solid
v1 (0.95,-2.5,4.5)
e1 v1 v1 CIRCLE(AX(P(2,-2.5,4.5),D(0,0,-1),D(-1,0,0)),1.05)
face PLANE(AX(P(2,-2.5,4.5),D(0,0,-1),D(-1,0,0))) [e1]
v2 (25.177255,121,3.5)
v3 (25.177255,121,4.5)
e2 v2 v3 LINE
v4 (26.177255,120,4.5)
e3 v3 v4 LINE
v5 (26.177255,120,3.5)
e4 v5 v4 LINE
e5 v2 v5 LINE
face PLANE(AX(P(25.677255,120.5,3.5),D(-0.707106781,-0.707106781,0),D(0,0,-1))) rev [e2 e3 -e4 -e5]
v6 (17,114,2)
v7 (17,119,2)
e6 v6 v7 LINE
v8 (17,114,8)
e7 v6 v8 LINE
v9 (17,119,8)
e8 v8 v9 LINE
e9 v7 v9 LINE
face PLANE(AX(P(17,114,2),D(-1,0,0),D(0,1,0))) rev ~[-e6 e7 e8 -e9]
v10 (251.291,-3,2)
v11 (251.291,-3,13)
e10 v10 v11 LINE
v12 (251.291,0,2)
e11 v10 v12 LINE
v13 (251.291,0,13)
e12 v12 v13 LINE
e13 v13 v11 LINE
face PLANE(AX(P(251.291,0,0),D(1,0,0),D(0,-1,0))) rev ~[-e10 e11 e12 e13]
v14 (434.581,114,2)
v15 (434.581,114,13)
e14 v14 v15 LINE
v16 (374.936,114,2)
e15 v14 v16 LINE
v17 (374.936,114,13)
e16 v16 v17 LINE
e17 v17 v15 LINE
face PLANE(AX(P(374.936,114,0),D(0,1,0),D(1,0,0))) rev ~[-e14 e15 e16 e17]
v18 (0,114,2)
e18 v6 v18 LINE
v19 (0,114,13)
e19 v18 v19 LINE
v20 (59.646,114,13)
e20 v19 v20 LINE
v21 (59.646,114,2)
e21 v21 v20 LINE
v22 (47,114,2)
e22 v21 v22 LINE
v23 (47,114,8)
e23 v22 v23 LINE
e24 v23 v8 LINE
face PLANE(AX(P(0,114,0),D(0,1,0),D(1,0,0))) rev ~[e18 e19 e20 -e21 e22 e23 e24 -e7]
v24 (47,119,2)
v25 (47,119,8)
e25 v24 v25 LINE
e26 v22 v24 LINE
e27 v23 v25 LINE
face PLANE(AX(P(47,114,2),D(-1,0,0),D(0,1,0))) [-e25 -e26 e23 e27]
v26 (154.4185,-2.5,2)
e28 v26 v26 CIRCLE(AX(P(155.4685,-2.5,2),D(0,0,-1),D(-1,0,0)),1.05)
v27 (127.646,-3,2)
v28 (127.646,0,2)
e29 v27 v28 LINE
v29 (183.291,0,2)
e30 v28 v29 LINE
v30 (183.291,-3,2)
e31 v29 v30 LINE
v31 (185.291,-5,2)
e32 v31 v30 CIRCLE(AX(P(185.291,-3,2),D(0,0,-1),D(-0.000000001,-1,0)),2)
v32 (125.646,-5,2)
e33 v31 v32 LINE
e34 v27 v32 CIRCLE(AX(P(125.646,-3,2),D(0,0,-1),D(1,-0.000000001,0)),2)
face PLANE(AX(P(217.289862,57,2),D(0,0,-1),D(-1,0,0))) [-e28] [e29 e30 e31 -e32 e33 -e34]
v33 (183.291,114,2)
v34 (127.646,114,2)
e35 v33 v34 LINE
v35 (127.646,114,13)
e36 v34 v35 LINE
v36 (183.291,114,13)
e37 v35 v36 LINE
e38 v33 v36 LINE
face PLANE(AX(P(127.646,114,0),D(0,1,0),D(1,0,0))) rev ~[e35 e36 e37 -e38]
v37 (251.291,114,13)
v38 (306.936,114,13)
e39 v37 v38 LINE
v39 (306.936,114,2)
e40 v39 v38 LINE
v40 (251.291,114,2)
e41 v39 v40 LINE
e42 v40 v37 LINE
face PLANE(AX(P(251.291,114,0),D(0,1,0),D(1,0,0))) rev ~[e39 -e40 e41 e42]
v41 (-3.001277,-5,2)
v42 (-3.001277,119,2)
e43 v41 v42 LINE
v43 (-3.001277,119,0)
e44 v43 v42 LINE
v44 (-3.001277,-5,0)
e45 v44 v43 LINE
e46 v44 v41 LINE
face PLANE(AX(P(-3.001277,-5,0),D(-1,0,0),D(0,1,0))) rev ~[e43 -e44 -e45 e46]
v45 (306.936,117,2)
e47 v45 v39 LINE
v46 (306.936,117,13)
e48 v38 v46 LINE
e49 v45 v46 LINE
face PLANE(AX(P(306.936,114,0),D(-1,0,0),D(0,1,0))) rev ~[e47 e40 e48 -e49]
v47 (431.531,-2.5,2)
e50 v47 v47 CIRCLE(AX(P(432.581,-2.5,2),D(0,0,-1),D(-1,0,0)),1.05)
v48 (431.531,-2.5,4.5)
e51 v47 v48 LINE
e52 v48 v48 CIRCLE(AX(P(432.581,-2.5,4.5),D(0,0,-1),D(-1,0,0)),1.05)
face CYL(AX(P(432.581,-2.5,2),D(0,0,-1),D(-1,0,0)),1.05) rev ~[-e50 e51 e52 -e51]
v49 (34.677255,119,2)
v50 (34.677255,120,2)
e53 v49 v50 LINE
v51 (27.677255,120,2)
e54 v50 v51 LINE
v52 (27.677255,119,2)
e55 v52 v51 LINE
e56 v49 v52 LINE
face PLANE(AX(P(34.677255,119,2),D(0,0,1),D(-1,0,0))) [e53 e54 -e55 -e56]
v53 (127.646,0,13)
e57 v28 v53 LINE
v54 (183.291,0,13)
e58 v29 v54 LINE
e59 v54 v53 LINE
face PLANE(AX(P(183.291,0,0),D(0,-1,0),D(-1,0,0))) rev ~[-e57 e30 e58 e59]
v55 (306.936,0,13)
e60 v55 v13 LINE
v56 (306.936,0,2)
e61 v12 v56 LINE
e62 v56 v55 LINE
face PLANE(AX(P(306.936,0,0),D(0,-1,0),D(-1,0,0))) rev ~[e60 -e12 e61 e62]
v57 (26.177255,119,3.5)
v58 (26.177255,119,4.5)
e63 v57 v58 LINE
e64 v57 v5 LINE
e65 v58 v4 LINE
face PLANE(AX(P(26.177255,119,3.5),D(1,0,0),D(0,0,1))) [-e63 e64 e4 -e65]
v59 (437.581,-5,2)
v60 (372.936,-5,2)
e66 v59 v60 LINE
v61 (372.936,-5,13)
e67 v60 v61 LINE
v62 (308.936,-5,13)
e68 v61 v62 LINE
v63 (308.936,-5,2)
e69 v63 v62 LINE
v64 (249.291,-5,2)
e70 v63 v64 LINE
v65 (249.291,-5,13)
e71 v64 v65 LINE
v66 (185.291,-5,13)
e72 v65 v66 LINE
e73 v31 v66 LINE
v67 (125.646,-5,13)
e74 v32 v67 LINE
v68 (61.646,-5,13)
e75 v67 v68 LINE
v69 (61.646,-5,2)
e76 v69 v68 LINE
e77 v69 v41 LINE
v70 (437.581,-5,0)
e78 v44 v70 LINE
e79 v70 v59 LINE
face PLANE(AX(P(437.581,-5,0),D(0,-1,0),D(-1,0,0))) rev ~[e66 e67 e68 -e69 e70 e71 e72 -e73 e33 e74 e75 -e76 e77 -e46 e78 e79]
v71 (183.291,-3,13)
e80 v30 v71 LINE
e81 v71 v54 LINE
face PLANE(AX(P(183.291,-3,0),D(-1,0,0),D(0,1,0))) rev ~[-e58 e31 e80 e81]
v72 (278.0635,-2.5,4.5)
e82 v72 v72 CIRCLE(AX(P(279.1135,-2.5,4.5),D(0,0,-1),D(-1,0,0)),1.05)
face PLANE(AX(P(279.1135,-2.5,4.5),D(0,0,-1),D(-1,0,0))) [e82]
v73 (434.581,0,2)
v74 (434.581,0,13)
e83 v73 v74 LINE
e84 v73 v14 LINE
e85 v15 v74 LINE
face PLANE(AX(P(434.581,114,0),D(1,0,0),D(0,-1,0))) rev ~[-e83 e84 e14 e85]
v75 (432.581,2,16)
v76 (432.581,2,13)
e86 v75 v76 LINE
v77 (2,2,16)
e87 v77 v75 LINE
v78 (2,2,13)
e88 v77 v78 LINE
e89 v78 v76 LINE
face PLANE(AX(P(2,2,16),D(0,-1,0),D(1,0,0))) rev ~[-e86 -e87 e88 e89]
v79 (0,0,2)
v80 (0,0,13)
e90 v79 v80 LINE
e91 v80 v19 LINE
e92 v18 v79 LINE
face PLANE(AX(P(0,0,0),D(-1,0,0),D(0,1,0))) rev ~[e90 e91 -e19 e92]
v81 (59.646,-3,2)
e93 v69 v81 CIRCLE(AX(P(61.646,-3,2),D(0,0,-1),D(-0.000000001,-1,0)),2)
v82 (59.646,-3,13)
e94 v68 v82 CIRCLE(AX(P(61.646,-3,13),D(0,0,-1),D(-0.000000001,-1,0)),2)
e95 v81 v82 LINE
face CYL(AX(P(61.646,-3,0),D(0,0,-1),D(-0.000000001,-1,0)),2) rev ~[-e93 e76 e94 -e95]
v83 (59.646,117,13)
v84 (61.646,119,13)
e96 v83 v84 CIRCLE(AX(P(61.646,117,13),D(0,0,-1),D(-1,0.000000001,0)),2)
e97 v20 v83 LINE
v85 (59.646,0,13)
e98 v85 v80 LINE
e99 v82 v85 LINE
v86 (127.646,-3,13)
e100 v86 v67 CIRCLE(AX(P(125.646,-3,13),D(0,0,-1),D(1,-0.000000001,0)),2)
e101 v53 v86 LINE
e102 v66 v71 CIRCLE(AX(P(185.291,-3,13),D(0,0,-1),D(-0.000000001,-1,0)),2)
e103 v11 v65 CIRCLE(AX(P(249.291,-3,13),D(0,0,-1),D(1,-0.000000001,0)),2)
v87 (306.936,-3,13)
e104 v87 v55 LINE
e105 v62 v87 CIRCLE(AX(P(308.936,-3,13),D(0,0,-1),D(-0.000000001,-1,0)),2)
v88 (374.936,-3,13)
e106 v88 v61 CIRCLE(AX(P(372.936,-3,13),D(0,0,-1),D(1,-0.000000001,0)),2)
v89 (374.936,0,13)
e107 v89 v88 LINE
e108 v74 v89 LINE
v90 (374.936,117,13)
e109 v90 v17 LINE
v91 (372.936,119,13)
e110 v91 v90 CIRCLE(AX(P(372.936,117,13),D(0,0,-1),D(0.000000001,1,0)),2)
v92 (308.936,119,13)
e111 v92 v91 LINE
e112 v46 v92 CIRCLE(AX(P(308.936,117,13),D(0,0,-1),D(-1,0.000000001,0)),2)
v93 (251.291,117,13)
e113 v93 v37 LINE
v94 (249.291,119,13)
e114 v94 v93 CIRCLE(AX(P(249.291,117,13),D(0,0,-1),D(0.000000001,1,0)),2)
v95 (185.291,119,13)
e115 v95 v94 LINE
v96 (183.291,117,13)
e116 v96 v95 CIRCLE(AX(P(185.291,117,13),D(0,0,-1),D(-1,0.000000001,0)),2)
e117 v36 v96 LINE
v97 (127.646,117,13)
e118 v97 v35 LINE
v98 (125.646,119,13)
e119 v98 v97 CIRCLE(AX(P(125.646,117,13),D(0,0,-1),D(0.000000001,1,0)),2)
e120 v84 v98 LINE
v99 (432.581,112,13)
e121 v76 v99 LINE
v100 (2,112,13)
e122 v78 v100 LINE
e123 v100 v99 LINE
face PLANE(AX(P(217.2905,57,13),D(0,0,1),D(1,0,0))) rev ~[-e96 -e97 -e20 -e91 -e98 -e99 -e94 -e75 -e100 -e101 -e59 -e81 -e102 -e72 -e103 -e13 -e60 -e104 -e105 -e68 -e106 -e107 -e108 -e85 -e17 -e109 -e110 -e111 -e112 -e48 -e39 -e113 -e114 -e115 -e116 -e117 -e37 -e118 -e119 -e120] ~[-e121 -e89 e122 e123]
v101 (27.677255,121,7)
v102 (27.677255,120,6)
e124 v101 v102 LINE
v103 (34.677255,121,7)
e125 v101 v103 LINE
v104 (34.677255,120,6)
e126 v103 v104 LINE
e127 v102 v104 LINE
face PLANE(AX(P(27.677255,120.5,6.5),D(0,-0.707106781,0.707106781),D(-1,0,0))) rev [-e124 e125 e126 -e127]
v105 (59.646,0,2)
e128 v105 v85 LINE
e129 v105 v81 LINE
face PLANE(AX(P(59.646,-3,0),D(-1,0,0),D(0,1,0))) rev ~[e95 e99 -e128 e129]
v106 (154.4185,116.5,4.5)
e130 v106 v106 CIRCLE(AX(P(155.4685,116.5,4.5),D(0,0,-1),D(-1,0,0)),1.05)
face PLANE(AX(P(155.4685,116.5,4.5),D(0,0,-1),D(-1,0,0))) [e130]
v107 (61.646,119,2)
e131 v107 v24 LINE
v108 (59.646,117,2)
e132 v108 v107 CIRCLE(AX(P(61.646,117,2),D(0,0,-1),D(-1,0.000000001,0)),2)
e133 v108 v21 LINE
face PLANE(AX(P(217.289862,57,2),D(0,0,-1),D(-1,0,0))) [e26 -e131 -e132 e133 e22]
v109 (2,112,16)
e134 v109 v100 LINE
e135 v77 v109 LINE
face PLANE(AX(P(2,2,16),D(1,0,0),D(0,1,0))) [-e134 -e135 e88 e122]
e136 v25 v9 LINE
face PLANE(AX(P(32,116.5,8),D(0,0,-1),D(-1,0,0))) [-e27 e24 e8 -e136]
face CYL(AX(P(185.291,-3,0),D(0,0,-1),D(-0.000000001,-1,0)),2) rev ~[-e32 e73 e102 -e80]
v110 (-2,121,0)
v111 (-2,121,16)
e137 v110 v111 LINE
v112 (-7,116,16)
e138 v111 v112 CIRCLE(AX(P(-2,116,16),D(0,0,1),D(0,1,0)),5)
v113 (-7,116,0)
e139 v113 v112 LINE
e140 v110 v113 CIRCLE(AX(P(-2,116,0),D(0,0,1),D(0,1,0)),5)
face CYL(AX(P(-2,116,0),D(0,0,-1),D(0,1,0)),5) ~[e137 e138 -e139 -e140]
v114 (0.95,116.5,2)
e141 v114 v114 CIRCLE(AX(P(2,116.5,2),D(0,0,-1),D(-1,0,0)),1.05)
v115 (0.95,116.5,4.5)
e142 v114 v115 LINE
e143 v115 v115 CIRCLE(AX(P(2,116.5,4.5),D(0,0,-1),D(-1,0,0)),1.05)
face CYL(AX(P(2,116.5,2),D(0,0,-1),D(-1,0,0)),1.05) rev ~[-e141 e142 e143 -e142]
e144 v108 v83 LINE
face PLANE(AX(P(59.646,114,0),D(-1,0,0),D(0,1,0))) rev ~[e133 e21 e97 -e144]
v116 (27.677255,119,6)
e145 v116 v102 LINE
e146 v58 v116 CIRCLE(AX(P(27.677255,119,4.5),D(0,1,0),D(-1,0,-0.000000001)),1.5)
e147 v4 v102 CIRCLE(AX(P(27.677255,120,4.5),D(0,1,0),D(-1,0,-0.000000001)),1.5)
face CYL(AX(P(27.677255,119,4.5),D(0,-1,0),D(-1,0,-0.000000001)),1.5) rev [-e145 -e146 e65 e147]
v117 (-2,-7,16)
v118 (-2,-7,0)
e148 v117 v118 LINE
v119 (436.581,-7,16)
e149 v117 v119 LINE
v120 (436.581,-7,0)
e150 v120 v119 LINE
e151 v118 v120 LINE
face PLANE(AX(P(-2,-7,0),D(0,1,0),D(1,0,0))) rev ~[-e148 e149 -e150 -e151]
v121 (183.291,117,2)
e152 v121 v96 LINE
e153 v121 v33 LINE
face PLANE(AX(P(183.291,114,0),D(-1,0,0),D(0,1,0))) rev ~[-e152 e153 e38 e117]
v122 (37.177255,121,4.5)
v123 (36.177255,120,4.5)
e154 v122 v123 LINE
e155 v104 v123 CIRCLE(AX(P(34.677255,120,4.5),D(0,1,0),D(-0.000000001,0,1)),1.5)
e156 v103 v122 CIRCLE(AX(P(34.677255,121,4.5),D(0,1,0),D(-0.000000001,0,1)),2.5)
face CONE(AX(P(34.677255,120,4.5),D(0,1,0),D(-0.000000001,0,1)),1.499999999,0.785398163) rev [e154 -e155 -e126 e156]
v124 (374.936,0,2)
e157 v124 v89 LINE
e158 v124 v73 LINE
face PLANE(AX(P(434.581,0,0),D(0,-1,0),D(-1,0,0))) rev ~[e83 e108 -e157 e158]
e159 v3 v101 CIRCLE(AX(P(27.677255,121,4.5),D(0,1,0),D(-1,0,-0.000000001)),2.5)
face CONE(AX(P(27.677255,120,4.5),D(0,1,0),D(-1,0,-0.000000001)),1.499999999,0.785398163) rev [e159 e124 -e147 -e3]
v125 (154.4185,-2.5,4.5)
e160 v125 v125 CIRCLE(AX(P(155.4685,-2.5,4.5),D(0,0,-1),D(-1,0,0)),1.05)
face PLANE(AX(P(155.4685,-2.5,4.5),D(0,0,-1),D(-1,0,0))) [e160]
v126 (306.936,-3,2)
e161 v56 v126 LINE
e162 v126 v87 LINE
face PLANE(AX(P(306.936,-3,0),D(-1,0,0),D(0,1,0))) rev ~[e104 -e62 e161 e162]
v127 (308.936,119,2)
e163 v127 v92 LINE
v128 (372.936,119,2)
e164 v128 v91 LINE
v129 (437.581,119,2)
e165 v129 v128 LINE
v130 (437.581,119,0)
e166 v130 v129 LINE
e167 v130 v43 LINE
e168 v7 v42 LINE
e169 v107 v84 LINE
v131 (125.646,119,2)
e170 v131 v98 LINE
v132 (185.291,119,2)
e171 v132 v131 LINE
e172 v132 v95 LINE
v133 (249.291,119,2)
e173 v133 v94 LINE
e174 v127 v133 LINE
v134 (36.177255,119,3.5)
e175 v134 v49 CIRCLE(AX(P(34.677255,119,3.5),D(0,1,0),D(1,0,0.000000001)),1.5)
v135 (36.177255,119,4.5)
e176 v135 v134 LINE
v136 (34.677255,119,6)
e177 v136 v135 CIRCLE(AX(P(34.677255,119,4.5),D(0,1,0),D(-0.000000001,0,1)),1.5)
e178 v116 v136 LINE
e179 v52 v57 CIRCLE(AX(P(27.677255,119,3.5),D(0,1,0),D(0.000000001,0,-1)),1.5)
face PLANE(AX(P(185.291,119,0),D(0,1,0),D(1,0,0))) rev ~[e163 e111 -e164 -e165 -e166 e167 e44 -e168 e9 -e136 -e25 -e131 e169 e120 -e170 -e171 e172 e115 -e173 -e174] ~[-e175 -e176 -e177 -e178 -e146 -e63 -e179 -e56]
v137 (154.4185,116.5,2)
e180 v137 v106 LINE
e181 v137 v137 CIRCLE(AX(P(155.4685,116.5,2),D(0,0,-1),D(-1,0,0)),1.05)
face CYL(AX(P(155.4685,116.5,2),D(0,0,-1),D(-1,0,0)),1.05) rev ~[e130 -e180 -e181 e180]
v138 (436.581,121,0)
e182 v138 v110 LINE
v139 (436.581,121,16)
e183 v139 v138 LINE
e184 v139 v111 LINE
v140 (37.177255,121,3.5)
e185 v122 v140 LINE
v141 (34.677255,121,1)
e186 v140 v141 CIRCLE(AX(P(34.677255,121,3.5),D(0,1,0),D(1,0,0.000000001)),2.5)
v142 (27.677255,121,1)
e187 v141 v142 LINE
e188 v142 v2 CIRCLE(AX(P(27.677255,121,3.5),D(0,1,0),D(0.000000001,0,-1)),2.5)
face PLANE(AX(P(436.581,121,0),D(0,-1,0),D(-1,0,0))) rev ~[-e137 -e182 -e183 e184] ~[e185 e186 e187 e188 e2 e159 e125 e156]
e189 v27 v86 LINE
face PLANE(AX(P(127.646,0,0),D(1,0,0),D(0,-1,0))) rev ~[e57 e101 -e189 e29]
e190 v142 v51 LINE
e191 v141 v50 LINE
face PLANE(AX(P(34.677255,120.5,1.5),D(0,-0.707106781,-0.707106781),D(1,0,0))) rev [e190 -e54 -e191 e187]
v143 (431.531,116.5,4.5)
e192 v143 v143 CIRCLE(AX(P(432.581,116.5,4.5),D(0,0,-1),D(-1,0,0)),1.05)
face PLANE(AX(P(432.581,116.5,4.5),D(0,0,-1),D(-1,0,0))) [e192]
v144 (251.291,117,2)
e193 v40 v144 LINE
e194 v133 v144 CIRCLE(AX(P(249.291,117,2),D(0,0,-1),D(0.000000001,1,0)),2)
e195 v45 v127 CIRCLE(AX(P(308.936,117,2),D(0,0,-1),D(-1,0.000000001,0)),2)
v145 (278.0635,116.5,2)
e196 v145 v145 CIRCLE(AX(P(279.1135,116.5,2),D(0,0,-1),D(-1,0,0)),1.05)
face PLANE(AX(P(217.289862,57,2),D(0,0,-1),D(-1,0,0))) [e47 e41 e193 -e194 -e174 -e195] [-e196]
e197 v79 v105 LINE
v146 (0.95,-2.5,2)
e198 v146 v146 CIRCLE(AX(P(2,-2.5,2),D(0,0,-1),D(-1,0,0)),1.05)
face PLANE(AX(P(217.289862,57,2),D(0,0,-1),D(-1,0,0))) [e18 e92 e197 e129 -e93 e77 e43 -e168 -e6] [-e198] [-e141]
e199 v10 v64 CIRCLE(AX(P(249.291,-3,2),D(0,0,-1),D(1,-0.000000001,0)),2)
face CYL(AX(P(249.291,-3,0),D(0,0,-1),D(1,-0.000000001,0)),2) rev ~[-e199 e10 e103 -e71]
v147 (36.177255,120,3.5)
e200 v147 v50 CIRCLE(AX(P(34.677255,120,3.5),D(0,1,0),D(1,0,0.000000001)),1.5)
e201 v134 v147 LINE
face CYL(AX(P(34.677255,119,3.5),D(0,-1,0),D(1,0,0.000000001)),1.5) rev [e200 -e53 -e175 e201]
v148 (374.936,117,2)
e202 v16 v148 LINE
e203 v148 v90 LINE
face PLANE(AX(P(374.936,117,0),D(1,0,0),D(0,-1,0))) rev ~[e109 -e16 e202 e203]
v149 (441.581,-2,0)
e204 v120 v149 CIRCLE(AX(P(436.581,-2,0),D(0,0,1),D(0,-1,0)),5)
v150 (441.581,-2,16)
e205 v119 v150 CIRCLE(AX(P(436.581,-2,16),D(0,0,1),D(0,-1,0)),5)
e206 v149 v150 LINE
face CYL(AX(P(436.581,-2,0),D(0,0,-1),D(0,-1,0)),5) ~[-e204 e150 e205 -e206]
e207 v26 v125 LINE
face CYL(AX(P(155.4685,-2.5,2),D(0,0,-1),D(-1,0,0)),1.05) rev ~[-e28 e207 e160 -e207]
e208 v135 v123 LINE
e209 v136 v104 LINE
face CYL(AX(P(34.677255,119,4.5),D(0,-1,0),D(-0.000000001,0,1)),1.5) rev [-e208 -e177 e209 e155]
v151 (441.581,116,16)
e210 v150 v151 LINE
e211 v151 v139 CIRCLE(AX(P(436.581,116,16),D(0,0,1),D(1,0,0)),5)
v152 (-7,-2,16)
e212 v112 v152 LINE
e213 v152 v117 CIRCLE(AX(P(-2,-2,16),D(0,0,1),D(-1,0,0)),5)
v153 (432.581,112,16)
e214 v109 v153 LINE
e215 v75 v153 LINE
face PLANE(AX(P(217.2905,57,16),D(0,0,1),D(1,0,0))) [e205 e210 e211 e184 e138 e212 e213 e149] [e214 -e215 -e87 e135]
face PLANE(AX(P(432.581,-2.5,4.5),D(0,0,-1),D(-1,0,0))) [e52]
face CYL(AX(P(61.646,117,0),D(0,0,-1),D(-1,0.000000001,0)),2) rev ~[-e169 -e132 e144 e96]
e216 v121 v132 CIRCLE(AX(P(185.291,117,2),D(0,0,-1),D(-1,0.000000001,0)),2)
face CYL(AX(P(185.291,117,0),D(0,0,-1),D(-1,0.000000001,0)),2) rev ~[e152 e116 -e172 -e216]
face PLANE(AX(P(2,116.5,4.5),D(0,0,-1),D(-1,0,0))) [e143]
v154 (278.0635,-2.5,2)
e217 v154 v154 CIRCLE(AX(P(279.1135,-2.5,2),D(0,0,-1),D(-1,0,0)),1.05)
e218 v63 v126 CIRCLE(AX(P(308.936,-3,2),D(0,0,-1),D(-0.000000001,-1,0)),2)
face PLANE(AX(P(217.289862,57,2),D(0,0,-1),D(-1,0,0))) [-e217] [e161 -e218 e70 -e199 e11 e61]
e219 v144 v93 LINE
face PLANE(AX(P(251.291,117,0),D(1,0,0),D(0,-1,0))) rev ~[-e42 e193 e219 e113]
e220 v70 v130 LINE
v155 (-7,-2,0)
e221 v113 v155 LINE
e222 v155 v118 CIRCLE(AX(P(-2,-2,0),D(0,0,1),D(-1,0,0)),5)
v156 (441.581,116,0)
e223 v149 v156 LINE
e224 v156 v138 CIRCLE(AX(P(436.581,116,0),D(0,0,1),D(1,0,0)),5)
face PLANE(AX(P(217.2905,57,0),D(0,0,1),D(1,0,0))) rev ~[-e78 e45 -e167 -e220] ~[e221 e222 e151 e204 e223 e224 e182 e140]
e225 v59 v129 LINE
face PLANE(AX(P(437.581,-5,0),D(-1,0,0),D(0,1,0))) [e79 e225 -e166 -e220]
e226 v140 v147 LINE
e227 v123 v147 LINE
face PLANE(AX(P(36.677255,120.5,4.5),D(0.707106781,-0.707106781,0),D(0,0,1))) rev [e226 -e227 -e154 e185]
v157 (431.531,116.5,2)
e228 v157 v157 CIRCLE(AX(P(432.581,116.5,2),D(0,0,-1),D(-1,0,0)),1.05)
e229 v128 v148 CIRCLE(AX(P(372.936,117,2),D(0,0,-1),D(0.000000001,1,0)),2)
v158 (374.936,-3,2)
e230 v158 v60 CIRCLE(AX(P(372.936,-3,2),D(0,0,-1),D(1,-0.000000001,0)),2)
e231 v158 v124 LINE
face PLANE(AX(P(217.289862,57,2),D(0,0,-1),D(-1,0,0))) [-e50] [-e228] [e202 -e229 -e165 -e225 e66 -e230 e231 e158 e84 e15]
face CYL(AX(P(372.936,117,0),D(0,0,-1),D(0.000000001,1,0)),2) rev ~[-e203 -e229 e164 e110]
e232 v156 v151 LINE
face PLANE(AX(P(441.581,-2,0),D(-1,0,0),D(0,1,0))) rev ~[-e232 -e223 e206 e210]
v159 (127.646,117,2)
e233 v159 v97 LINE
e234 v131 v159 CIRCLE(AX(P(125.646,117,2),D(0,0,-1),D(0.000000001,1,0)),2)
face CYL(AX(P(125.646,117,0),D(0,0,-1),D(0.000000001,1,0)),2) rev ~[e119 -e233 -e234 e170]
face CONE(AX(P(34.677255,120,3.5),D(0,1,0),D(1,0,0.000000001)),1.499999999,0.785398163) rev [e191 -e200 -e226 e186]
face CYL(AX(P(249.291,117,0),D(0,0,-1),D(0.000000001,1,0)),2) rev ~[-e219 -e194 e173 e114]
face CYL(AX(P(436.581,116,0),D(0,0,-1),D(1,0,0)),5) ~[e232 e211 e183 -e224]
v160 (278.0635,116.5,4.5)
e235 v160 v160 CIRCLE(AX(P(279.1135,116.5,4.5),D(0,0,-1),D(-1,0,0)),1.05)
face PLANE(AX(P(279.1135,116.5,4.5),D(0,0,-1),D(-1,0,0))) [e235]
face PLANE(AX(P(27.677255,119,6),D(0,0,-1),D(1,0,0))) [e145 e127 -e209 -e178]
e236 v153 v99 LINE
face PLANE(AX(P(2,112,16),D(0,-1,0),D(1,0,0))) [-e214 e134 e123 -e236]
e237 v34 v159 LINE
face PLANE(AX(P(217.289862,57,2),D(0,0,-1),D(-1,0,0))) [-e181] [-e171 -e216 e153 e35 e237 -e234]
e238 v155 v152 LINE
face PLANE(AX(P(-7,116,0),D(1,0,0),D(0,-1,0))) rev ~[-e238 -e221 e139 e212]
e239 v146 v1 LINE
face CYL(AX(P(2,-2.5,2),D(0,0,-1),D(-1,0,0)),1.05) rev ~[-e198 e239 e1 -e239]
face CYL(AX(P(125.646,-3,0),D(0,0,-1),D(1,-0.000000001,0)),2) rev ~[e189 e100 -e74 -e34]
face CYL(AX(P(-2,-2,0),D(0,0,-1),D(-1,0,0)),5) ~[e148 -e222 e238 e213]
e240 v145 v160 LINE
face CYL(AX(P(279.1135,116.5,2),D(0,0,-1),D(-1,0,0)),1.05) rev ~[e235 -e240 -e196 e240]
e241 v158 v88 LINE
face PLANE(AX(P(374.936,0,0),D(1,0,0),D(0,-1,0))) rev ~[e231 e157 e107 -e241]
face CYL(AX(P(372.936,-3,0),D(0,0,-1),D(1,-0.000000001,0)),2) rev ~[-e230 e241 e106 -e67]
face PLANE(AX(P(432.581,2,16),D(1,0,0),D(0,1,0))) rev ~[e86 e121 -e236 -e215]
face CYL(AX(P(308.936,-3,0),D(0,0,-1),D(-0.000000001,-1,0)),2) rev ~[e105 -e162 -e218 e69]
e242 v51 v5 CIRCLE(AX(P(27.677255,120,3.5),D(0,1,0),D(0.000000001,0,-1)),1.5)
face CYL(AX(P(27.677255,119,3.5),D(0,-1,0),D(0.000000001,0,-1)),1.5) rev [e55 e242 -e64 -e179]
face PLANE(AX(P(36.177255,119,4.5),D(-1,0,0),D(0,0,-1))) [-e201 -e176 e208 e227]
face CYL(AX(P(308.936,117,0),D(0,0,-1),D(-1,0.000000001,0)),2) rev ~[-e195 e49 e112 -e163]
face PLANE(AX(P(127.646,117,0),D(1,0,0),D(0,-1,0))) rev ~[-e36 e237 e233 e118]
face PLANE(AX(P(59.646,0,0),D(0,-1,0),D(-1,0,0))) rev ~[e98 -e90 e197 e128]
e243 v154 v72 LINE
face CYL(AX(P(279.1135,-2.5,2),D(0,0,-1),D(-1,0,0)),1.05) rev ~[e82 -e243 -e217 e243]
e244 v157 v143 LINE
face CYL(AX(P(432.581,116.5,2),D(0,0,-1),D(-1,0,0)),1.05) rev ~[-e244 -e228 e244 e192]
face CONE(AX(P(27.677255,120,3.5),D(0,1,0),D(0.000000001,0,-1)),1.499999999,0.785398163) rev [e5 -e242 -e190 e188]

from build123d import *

# Parameters (mm, degrees)
BOSS_EXTRUDE1_DEPTH = 16
SKETCH2_W           = 438.581
SKETCH2_H           = 128
SKETCH2_W_2         = 430.581
SKETCH2_H_2         = 110
BOSS_EXTRUDE2_DEPTH = 3
SKETCH3_W           = 440.5822769
SKETCH3_H           = 124
CUT_EXTRUDE1_DEPTH  = 2
SKETCH4_R           = 1.05
CUT_EXTRUDE2_DEPTH  = 2.5
SKETCH5_W           = 30
SKETCH5_H           = 5
CUT_EXTRUDE3_DEPTH  = 6
CUT_EXTRUDE4_DEPTH  = 4
CHAMFER8_SIZE       = 1


with BuildPart() as part:
    # Sketch1 → Boss-Extrude1 (new body)
    with BuildSketch(Plane.XY):
        with BuildLine():
            ThreePointArc((-7, -2), (-5.535533906, -5.535533906), (-2, -7))
            Line((-2, -7), (436.581, -7))
            ThreePointArc((436.581, -7), (440.116533906, -5.535533906), (441.581, -2))
            Line((441.581, -2), (441.581, 116))
            ThreePointArc((441.581, 116), (440.116533906, 119.535533906), (436.581, 121))
            Line((436.581, 121), (-2, 121))
            ThreePointArc((-2, 121), (-5.535533906, 119.535533906), (-7, 116))
            Line((-7, 116), (-7, -2))
        make_face()
        with BuildLine():
            Line((251.291, 114), (306.936, 114))
            Line((306.936, 114), (306.936, 117))
            ThreePointArc((306.936, 117), (307.521786438, 118.414213562), (308.936, 119))
            Line((308.936, 119), (372.936, 119))
            ThreePointArc((372.936, 119), (374.350213562, 118.414213562), (374.936, 117))
            Line((374.936, 117), (374.936, 114))
            Line((374.936, 114), (434.581, 114))
            Line((434.581, 114), (434.581, 0))
            Line((434.581, 0), (374.936, 0))
            Line((374.936, 0), (374.936, -3))
            ThreePointArc((374.936, -3), (374.350213562, -4.414213562), (372.936, -5))
            Line((372.936, -5), (308.936, -5))
            ThreePointArc((308.936, -5), (307.521786438, -4.414213562), (306.936, -3))
            Line((306.936, -3), (306.936, 0))
            Line((306.936, 0), (251.291, 0))
            Line((251.291, 0), (251.291, -3))
            ThreePointArc((251.291, -3), (250.705213562, -4.414213562), (249.291, -5))
            Line((249.291, -5), (185.291, -5))
            ThreePointArc((185.291, -5), (183.876786438, -4.414213562), (183.291, -3))
            Line((183.291, -3), (183.291, 0))
            Line((183.291, 0), (127.646, 0))
            Line((127.646, 0), (127.646, -3))
            ThreePointArc((127.646, -3), (127.060213562, -4.414213562), (125.646, -5))
            Line((125.646, -5), (61.646, -5))
            ThreePointArc((61.646, -5), (60.231786438, -4.414213562), (59.646, -3))
            Line((59.646, -3), (59.646, 0))
            Line((59.646, 0), (0, 0))
            Line((0, 0), (0, 114))
            Line((0, 114), (59.646, 114))
            Line((59.646, 114), (59.646, 117))
            ThreePointArc((59.646, 117), (60.231786438, 118.414213562), (61.646, 119))
            Line((61.646, 119), (125.646, 119))
            ThreePointArc((125.646, 119), (127.060213562, 118.414213562), (127.646, 117))
            Line((127.646, 117), (127.646, 114))
            Line((127.646, 114), (183.291, 114))
            Line((183.291, 114), (183.291, 117))
            ThreePointArc((183.291, 117), (183.876786438, 118.414213562), (185.291, 119))
            Line((185.291, 119), (249.291, 119))
            ThreePointArc((249.291, 119), (250.705213562, 118.414213562), (251.291, 117))
            Line((251.291, 117), (251.291, 114))
        make_face(mode=Mode.SUBTRACT)
    extrude(amount=BOSS_EXTRUDE1_DEPTH)

    # Sketch2 → Boss-Extrude2 (add)
    with BuildSketch(Plane.XY.offset(16)):
        with Locations((217.2905, 57)):
            Rectangle(SKETCH2_W, SKETCH2_H)
        with Locations((217.2905, 57)):
            Rectangle(SKETCH2_W_2, SKETCH2_H_2, mode=Mode.SUBTRACT)
    extrude(amount=-BOSS_EXTRUDE2_DEPTH)

    # Sketch3 → Cut-Extrude1 (cut)
    with BuildSketch(Plane(origin=(0, 0, 0), x_dir=(-1, 0, 0), z_dir=(0, 0, -1))):
        with Locations((-217.28986155, 57)):
            Rectangle(SKETCH3_W, SKETCH3_H)
    extrude(amount=-CUT_EXTRUDE1_DEPTH, mode=Mode.SUBTRACT)

    # Sketch4 → Cut-Extrude2 (cut)
    with BuildSketch(Plane(origin=(0, 0, 2), x_dir=(-1, 0, 0), z_dir=(0, 0, -1))):
        with Locations((-279.1135, 116.5)):
            Circle(SKETCH4_R)
        with Locations((-155.4685, 116.5)):
            Circle(SKETCH4_R)
        with Locations((-279.1135, -2.5)):
            Circle(SKETCH4_R)
        with Locations((-155.4685, -2.5)):
            Circle(SKETCH4_R)
        with Locations((-2, -2.5)):
            Circle(SKETCH4_R)
        with Locations((-2, 116.5)):
            Circle(SKETCH4_R)
        with Locations((-432.581, 116.5)):
            Circle(SKETCH4_R)
        with Locations((-432.581, -2.5)):
            Circle(SKETCH4_R)
    extrude(amount=-CUT_EXTRUDE2_DEPTH, mode=Mode.SUBTRACT)

    # Sketch5 → Cut-Extrude3 (cut)
    with BuildSketch(Plane(origin=(0, 0, 2), x_dir=(-1, 0, 0), z_dir=(0, 0, -1))):
        with Locations((-32, 116.5)):
            Rectangle(SKETCH5_W, SKETCH5_H)
    extrude(amount=-CUT_EXTRUDE3_DEPTH, mode=Mode.SUBTRACT)

    # Sketch6 → Cut-Extrude4 (cut)
    with BuildSketch(Plane.XZ.offset(-119)):
        with BuildLine():
            Line((34.677255015, 2), (27.677255015, 2))
            ThreePointArc((27.677255015, 2), (26.616594843, 2.439339828), (26.177255015, 3.5))
            Line((26.177255015, 3.5), (26.177255015, 4.5))
            ThreePointArc((26.177255015, 4.5), (26.616594843, 5.560660172), (27.677255015, 6))
            Line((27.677255015, 6), (34.677255015, 6))
            ThreePointArc((34.677255015, 6), (35.737915187, 5.560660172), (36.177255015, 4.5))
            Line((36.177255015, 4.5), (36.177255015, 3.5))
            ThreePointArc((36.177255015, 3.5), (35.737915187, 2.439339828), (34.677255015, 2))
        make_face()
    extrude(amount=-CUT_EXTRUDE4_DEPTH, mode=Mode.SUBTRACT)

    # Chamfer8
    chamfer8_edges = [part.edges().sort_by_distance(p)[0] for p in [
        (31.177255015, 121, 6),
        (26.616594843, 121, 5.560660172),
        (26.177255015, 121, 4),
        (26.616594843, 121, 2.439339828),
        (31.177255015, 121, 2),
        (35.737915187, 121, 2.439339828),
        (36.177255015, 121, 4),
        (35.737915187, 121, 5.560660172),
    ]]
    chamfer(chamfer8_edges, length=CHAMFER8_SIZE)


solid = part.part
